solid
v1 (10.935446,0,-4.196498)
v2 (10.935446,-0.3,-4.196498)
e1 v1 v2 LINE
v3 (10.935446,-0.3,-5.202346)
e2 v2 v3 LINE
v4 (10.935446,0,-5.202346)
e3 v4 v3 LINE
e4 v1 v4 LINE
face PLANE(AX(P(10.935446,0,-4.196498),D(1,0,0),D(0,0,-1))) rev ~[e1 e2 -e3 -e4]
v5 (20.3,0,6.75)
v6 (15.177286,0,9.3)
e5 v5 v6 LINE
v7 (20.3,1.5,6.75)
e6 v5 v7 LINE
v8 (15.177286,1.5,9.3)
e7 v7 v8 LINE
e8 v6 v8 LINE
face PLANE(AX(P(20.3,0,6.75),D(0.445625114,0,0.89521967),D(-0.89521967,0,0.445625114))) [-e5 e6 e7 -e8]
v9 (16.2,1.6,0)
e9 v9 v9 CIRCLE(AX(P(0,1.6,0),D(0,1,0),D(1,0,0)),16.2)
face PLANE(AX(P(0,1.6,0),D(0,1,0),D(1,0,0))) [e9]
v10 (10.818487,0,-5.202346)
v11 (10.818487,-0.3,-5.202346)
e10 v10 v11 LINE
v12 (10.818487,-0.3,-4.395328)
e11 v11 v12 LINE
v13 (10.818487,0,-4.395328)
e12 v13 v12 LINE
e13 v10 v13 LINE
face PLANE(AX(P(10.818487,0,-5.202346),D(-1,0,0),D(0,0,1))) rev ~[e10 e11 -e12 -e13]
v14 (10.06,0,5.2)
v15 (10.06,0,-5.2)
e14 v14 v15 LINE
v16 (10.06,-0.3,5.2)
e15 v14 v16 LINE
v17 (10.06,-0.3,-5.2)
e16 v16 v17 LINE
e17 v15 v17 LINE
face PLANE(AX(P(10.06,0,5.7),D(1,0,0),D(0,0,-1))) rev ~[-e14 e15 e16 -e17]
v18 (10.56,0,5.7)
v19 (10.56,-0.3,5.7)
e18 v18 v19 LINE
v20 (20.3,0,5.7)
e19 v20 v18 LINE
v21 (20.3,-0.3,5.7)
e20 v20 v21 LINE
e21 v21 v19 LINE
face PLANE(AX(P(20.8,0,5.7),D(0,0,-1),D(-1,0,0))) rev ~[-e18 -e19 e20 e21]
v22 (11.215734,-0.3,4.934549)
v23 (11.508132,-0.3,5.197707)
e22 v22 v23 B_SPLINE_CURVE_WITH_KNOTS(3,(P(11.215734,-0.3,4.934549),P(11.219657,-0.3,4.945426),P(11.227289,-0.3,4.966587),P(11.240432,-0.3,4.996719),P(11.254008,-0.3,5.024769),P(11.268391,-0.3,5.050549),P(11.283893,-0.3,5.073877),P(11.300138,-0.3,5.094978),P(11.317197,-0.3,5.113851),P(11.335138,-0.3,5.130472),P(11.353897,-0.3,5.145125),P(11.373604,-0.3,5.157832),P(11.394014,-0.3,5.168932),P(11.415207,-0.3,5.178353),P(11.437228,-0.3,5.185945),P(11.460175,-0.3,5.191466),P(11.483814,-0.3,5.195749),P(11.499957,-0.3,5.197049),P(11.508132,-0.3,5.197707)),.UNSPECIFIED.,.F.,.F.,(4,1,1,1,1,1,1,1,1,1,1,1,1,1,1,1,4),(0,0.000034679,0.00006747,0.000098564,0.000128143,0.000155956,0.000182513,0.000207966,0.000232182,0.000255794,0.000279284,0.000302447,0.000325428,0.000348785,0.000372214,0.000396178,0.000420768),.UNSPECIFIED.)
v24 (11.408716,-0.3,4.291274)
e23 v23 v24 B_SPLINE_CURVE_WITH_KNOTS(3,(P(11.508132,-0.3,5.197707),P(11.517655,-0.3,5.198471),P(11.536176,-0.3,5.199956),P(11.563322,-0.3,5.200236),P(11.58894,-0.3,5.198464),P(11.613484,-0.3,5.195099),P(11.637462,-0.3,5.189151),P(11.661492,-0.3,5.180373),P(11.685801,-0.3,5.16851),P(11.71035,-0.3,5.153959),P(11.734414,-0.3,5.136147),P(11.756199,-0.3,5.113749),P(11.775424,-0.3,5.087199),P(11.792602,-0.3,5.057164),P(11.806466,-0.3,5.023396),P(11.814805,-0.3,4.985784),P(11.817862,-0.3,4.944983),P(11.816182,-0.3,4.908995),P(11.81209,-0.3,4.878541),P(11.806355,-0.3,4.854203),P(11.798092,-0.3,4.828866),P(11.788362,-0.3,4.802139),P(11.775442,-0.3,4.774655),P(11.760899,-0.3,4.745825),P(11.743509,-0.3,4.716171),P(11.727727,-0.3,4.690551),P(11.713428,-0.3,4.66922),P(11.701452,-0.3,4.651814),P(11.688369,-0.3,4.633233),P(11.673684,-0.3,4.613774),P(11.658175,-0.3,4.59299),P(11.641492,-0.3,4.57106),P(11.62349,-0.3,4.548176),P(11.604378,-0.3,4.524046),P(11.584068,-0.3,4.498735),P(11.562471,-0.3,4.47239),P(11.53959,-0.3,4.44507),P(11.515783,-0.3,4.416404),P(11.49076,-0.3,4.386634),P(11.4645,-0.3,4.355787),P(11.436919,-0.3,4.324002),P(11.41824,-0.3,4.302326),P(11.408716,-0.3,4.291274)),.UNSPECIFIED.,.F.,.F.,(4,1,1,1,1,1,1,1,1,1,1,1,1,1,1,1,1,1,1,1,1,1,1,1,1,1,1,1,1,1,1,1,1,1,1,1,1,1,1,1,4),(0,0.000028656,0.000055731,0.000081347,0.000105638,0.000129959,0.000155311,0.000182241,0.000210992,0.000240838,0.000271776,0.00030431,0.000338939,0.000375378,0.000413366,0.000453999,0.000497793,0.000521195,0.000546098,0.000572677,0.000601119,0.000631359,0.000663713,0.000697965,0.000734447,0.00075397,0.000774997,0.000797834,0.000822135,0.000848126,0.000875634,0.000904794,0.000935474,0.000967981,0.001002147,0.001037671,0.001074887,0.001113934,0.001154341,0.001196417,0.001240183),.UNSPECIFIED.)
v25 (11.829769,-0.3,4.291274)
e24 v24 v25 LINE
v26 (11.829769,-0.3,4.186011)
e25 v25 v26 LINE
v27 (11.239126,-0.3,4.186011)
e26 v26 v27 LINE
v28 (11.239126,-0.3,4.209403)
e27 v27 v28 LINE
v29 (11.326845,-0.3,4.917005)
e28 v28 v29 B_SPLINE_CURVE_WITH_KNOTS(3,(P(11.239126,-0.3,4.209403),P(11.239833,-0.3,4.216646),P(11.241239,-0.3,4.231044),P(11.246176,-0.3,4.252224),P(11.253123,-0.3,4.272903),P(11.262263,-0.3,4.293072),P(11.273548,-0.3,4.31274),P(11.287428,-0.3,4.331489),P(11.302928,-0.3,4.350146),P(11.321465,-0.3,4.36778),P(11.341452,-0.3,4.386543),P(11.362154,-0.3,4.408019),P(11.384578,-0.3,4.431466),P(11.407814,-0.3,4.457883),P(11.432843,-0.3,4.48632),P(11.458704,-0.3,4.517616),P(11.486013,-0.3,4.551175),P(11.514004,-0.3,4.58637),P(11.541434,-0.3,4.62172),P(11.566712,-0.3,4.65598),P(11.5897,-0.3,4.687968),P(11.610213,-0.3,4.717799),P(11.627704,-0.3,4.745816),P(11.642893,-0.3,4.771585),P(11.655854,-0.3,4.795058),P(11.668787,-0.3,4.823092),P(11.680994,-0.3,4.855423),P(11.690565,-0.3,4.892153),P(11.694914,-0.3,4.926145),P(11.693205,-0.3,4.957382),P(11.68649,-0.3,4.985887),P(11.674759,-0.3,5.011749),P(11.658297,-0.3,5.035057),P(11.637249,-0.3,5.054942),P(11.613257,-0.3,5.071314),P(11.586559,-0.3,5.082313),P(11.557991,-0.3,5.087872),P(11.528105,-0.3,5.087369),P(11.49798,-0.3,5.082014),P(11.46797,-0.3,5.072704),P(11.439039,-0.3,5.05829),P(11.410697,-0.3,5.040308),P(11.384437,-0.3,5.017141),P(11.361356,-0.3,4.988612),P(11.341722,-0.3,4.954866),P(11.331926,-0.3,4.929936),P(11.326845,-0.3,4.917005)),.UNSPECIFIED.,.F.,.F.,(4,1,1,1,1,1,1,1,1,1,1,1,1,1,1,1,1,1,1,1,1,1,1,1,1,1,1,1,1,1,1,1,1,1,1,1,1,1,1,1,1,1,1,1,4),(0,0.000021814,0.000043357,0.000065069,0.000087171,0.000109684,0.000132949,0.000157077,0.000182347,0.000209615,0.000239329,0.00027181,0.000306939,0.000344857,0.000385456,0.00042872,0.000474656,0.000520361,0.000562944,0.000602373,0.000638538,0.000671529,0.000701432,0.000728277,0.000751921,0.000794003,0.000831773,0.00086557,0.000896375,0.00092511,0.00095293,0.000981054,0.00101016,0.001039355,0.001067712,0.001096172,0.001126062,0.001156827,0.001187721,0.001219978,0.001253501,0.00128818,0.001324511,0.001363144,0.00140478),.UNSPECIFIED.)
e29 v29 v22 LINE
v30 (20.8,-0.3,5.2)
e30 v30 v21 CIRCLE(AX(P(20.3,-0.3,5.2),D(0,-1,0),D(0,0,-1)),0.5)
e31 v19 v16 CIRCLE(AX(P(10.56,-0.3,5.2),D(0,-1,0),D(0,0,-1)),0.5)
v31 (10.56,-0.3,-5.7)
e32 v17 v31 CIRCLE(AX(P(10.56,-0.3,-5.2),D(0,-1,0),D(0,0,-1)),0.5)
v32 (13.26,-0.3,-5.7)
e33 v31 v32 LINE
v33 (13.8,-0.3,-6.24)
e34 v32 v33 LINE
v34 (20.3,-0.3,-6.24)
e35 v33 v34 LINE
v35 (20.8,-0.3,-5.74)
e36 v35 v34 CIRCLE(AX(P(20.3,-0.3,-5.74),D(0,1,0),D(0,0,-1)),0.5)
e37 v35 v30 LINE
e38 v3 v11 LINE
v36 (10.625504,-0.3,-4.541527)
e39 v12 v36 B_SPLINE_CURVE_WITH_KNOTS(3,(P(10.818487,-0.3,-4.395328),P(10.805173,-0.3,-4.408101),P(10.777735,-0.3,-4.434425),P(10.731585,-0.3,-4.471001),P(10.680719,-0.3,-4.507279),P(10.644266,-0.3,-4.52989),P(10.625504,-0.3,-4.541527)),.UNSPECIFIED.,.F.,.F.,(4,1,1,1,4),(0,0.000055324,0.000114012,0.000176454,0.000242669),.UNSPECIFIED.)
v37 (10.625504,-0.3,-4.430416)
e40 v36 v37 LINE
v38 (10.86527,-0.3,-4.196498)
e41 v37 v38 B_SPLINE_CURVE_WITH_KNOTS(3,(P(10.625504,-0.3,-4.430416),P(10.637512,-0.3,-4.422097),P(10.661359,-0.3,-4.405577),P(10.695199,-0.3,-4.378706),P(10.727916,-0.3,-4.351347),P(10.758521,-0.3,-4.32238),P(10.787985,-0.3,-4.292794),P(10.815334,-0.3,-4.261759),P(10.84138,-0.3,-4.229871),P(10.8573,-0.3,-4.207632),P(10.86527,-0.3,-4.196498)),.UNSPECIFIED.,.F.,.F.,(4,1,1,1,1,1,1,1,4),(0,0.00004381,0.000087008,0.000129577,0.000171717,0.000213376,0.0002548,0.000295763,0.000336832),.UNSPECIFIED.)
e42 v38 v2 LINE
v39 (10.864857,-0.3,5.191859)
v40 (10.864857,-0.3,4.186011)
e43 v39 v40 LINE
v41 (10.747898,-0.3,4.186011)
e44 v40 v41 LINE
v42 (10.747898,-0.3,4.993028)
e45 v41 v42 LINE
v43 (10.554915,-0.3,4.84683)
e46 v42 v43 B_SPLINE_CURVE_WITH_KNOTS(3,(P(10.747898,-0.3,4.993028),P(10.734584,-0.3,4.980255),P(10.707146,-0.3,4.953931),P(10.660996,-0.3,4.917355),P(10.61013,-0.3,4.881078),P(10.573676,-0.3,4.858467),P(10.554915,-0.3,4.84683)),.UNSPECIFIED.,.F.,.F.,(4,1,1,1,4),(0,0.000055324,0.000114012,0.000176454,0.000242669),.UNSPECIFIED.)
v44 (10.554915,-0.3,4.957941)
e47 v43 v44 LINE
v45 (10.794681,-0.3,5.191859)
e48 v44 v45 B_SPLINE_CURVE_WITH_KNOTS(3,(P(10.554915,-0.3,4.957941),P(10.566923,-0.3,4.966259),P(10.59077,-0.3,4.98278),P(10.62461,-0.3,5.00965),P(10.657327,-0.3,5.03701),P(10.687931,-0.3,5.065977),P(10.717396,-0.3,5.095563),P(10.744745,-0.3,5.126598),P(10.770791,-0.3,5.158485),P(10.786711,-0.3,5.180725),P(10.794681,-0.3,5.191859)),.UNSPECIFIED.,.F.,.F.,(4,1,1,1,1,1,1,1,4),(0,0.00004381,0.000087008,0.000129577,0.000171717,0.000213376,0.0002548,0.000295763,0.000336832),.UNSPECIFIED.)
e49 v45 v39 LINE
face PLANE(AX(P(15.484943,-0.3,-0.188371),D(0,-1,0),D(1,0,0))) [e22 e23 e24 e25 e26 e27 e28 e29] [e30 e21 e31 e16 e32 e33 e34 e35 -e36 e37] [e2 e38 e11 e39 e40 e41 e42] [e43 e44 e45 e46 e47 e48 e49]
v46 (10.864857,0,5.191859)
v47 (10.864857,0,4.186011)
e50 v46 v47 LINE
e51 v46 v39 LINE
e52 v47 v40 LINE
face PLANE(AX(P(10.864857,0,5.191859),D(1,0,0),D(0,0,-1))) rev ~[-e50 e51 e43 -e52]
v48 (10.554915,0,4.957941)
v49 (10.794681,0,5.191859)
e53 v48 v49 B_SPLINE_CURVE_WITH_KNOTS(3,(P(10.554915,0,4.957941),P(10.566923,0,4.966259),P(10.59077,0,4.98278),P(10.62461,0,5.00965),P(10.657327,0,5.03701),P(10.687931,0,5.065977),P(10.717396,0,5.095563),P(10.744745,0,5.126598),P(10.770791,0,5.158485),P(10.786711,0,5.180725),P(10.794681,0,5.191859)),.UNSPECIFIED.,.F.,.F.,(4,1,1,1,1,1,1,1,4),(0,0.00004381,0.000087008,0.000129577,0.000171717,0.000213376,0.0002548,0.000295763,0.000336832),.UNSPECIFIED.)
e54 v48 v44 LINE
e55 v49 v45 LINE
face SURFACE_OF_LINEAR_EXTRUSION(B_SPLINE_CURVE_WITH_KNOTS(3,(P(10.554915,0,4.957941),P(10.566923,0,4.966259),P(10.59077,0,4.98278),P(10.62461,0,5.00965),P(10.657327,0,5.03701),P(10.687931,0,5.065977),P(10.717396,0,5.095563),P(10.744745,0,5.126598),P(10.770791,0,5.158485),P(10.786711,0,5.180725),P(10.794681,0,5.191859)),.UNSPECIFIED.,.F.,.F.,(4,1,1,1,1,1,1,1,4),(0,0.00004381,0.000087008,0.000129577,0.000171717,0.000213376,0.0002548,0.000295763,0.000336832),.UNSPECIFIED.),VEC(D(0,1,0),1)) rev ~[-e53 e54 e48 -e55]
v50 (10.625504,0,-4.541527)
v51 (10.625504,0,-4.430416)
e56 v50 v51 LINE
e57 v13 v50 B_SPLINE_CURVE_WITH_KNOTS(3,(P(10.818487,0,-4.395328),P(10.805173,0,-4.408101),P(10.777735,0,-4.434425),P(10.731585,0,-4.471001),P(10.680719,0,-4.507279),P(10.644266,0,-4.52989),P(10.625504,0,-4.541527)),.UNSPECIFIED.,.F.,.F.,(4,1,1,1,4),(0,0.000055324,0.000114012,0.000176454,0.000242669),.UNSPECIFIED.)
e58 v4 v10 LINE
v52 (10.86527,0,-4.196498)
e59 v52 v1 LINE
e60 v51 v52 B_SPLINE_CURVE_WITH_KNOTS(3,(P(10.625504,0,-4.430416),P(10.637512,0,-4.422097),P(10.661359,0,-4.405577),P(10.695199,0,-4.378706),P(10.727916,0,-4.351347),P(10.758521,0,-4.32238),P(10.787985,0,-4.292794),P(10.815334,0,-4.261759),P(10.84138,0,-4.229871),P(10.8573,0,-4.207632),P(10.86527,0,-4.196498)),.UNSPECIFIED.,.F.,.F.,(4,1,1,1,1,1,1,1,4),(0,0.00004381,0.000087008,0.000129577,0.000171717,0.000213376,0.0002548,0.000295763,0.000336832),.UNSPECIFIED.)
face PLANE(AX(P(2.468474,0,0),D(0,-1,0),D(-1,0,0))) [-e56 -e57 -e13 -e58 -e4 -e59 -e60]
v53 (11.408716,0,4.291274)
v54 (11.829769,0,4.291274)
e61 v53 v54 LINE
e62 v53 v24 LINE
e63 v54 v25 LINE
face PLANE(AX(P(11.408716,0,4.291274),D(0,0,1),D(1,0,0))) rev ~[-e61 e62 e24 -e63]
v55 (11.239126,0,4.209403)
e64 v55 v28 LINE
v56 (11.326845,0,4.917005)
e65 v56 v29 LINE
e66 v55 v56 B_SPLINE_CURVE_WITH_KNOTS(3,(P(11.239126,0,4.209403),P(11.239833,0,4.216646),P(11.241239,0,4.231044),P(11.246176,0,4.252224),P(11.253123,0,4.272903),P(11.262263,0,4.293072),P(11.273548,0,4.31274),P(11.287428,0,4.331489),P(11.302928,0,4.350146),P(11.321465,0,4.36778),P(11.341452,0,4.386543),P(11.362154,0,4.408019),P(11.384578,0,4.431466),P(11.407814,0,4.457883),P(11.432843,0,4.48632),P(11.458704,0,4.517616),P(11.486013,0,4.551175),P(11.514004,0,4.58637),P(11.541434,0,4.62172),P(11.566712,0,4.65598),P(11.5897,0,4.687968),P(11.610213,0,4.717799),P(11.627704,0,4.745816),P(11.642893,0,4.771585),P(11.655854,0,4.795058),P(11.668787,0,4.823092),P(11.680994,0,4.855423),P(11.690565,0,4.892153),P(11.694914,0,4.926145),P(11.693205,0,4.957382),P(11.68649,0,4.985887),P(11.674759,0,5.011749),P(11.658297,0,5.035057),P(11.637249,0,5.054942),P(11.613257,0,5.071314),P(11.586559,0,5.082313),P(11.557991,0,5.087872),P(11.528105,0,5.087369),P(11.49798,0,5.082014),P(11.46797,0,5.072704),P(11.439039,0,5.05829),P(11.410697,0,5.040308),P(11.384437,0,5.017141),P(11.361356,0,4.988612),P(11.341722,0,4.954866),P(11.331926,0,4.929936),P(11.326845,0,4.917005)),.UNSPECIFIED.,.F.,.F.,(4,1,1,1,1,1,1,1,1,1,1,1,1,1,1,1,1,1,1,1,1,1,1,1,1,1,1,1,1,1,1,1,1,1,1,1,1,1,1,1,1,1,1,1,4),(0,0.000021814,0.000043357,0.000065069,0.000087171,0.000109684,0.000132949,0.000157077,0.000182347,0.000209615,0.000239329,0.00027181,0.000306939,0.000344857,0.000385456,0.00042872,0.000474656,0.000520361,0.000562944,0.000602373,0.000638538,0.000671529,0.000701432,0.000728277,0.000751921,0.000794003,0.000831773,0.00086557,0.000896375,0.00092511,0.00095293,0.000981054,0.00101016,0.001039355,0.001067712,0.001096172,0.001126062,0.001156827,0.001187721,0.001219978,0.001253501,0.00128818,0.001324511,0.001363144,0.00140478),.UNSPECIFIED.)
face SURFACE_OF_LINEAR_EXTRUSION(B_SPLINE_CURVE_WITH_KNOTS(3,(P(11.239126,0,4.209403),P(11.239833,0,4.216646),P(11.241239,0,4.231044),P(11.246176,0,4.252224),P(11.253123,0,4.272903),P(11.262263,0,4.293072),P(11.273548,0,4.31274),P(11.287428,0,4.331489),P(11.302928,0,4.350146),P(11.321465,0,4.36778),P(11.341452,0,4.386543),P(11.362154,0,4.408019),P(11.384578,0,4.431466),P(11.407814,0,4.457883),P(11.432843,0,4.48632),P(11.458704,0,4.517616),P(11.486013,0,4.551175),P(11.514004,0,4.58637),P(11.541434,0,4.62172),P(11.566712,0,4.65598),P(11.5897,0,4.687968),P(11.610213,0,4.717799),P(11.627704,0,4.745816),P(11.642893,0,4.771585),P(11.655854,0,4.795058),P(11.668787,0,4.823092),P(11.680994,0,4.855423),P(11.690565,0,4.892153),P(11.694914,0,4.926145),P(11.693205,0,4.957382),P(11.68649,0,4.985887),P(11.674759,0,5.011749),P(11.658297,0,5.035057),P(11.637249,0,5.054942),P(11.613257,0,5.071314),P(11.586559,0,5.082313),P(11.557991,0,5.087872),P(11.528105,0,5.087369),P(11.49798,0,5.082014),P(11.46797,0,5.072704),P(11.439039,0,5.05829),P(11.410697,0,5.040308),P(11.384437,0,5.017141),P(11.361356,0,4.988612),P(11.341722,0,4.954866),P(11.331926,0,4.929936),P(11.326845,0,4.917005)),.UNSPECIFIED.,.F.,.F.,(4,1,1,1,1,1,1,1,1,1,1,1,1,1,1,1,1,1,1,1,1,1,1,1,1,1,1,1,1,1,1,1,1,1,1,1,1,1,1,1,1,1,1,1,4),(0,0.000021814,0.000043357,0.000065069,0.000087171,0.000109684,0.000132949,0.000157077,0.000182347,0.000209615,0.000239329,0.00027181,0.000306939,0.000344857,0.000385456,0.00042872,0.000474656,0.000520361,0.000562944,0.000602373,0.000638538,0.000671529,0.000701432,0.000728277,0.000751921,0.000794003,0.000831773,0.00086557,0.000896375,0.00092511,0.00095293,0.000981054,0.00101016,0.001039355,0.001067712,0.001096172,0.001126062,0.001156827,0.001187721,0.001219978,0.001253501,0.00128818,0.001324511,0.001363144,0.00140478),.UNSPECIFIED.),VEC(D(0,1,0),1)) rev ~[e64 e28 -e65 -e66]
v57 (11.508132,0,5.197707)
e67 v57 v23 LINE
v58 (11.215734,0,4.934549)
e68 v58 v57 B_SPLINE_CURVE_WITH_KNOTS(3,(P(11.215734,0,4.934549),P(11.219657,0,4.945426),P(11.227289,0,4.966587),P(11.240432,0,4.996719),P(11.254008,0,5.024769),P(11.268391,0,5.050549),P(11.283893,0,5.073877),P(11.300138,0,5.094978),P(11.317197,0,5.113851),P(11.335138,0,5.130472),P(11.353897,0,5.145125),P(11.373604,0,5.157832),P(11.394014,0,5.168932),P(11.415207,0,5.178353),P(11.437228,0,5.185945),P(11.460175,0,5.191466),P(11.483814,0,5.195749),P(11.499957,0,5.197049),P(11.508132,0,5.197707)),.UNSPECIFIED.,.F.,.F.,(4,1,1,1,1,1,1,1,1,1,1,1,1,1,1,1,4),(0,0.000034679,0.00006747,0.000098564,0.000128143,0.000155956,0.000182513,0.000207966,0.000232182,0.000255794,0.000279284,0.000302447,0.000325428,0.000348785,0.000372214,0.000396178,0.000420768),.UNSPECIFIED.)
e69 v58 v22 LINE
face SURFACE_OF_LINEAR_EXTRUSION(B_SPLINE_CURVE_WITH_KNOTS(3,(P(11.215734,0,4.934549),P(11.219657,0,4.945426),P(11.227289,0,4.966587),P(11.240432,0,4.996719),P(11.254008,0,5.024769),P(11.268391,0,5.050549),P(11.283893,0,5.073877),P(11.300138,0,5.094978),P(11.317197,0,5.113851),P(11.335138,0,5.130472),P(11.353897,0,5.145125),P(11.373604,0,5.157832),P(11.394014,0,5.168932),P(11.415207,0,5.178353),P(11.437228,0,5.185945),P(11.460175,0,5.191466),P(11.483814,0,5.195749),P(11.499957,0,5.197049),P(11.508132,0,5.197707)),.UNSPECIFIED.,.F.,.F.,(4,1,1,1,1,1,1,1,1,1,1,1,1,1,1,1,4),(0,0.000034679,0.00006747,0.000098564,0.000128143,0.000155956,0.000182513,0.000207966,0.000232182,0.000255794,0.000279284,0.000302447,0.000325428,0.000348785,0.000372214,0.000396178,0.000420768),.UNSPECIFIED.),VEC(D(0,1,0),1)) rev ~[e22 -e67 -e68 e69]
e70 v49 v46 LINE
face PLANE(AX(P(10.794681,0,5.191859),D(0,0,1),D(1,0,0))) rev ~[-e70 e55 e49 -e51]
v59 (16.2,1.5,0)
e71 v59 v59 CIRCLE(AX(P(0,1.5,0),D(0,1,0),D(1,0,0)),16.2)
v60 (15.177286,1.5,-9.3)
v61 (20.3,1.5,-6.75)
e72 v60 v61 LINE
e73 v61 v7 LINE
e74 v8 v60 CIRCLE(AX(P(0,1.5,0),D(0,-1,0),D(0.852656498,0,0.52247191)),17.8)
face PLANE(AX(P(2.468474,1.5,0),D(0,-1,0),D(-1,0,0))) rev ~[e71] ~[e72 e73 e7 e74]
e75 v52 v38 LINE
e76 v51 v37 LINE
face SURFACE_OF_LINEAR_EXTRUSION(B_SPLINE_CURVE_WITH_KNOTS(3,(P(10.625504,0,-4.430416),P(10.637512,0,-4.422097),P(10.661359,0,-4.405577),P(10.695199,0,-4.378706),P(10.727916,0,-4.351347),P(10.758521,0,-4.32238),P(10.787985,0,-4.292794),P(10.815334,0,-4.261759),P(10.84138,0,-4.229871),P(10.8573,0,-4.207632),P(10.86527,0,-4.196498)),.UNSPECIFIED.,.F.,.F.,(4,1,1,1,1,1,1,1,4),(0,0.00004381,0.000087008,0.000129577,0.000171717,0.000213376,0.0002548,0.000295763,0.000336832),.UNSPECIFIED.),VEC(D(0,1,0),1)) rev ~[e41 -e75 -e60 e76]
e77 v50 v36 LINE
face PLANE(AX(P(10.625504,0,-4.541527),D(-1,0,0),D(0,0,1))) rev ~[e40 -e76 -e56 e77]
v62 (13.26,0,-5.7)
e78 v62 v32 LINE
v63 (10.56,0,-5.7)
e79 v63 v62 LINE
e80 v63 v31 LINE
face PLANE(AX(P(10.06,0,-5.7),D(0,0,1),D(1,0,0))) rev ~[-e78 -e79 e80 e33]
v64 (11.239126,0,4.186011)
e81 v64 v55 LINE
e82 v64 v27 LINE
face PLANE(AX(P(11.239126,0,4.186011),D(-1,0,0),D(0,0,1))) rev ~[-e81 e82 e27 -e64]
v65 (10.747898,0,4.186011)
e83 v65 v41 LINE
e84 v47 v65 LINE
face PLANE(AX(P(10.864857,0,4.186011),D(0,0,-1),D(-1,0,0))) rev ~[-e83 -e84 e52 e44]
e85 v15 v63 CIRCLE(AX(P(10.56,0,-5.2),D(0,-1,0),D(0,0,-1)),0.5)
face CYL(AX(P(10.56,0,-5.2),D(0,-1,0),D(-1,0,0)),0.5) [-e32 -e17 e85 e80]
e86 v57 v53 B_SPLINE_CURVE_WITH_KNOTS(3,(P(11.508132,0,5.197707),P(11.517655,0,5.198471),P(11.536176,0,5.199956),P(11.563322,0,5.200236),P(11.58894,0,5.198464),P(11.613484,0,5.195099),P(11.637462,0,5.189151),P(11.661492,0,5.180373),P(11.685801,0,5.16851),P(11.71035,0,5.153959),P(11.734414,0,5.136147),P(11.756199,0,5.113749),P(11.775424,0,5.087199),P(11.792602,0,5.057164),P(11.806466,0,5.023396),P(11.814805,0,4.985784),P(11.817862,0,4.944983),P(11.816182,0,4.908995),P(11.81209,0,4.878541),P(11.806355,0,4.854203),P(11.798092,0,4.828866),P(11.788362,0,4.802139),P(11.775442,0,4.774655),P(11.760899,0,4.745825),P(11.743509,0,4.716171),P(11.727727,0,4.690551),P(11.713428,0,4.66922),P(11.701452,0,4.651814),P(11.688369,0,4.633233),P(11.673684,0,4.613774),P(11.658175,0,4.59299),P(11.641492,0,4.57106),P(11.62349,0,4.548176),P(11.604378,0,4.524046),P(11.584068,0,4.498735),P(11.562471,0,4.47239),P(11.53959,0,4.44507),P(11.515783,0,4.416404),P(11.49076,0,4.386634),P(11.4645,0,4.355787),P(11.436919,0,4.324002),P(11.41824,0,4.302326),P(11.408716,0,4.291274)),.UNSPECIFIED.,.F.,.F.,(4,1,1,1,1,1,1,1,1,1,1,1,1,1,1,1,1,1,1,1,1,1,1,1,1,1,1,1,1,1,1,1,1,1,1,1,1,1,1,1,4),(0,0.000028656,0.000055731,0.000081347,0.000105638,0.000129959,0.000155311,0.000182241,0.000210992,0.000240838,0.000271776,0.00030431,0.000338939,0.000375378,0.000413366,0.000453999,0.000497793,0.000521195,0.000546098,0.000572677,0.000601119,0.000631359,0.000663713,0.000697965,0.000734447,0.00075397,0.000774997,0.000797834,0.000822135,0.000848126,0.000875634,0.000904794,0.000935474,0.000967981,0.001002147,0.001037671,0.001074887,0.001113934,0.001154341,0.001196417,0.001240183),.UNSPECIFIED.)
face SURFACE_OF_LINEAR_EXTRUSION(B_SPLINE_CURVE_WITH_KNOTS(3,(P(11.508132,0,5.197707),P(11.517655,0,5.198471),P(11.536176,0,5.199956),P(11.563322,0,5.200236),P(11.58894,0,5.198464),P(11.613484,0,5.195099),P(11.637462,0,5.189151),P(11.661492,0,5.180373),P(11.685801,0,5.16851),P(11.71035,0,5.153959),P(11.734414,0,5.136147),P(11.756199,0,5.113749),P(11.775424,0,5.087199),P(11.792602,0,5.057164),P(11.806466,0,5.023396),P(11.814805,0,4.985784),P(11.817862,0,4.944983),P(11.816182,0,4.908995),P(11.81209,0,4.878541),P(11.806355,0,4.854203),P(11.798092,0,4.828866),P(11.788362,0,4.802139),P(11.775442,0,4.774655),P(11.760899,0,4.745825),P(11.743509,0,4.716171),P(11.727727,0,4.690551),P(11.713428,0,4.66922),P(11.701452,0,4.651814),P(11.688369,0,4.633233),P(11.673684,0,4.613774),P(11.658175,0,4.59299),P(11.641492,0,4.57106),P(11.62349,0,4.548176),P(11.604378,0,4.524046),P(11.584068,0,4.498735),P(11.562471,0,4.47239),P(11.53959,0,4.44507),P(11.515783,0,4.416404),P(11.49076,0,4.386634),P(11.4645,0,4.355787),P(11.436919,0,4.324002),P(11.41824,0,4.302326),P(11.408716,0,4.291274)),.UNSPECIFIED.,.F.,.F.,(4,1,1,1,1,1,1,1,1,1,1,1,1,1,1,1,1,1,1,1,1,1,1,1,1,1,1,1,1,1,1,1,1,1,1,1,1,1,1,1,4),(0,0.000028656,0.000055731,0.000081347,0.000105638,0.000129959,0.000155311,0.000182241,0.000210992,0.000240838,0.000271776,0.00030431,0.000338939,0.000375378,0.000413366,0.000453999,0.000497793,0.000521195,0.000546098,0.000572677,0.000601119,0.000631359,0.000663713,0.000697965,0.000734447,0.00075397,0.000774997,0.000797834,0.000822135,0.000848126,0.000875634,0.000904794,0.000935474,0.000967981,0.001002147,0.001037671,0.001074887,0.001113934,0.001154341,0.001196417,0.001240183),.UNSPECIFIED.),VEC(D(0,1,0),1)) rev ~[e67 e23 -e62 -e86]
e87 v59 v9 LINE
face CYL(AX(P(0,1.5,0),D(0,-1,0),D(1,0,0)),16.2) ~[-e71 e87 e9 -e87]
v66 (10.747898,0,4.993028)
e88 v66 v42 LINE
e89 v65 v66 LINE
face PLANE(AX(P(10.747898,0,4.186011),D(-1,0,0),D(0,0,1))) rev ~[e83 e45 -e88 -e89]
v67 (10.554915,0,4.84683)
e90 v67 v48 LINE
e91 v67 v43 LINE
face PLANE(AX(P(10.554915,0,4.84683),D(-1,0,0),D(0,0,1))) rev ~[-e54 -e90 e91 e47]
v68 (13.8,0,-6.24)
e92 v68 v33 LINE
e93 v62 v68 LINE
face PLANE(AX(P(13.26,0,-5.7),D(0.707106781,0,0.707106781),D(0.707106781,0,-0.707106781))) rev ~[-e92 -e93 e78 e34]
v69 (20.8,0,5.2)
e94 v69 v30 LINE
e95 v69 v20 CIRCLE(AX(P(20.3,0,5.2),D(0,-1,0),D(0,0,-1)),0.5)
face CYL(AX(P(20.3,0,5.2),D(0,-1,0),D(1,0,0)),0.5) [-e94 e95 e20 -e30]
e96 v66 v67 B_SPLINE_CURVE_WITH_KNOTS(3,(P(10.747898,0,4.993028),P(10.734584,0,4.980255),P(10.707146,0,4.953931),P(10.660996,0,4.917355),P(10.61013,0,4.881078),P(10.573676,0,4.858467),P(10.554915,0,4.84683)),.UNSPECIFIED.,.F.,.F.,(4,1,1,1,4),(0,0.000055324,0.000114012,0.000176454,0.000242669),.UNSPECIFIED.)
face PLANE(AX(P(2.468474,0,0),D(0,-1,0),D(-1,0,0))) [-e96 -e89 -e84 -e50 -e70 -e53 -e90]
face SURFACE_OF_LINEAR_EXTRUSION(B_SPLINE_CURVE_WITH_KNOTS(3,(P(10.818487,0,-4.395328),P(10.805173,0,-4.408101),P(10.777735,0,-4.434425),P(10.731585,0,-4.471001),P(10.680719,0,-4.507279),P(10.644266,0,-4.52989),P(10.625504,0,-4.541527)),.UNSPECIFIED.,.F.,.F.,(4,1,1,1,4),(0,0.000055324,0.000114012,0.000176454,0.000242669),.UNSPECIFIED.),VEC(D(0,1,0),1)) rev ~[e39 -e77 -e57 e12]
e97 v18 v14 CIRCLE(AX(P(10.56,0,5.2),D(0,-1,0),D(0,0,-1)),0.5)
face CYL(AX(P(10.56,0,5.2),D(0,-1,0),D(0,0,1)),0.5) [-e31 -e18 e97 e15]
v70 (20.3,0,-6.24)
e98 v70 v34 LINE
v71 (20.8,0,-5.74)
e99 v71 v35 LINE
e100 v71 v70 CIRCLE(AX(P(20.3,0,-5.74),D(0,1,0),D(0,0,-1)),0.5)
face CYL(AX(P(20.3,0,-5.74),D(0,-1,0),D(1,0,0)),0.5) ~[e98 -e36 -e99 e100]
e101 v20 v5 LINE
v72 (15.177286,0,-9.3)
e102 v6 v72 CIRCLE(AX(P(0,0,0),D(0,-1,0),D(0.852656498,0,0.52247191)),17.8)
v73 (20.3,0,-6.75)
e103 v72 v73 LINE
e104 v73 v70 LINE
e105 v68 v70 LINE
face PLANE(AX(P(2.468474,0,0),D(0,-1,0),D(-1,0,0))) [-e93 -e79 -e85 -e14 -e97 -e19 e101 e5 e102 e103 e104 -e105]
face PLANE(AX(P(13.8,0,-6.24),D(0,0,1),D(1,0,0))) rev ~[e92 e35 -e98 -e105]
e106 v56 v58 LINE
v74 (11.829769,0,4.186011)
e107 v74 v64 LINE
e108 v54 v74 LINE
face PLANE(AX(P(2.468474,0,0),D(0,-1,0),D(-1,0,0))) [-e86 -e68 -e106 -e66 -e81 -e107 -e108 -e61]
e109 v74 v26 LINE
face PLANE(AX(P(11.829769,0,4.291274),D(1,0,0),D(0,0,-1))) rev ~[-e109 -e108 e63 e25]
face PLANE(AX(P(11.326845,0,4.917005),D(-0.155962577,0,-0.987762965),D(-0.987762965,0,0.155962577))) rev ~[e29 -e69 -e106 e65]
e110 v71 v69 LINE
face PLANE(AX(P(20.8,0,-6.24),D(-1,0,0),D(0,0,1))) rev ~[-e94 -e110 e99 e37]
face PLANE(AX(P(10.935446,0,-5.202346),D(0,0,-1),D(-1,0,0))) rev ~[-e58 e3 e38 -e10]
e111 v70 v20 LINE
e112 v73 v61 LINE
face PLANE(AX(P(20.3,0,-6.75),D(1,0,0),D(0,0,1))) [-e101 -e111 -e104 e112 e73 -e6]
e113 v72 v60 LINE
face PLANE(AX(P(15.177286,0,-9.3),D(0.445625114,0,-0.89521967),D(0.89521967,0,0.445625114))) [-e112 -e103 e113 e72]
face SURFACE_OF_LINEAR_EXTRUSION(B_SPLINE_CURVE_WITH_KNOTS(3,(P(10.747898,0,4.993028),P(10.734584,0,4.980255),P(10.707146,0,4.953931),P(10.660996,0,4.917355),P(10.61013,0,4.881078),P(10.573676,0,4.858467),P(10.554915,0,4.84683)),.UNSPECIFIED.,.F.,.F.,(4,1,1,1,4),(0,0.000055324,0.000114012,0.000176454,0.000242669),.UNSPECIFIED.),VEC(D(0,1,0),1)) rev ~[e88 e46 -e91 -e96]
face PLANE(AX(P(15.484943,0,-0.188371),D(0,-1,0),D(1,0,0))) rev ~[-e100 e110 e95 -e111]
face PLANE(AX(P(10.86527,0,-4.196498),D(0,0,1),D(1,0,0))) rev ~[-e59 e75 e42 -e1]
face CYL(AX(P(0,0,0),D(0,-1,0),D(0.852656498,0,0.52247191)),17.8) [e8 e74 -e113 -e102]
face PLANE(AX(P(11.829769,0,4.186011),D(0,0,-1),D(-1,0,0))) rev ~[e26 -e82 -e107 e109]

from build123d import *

# Parameters (mm, degrees)
EXTRUDE_1_DEPTH = 1.5
SKETCH_3_R      = 16.2
EXTRUDE_2_DEPTH = 0.1
EXTRUDE_3_DEPTH = 0.3
FILLET_1_R      = 0.5


with BuildPart() as part:
    # 草图1 → 凸台-拉伸1 (new body)
    with BuildSketch(Plane(origin=(0, 0, 0), x_dir=(1, 0, 0), z_dir=(0, 1, 0))):
        with BuildLine():
            Line((20.3, 6.75), (20.3, -6.75))
            Line((20.3, -6.75), (15.17728566, -9.3))
            ThreePointArc((15.17728566, -9.3), (-17.8, 0), (15.17728566, 9.3))
            Line((15.17728566, 9.3), (20.3, 6.75))
        make_face()
    extrude(amount=EXTRUDE_1_DEPTH)

    # 草图3 → 凸台-拉伸2 (add)
    with BuildSketch(Plane(origin=(0, 1.5, 0), x_dir=(1, 0, 0), z_dir=(0, 1, 0))):
        Circle(SKETCH_3_R)
    extrude(amount=EXTRUDE_2_DEPTH)

    # 草图4 → 凸台-拉伸3 (add)
    with BuildSketch(Plane.XZ):
        Polygon((20.8, -6.24), (20.8, 5.7), (10.06, 5.7), (10.06, -5.7), (13.26, -5.7), (13.8, -6.24), align=None)
        with BuildLine():
            add(Edge.make_bspline(
                [(10.818486802, -4.395328042), (10.805172896, -4.40810149), (10.777735498, -4.434425106), (10.731585338, -4.471001471), (10.680718947, -4.50727864), (10.644265505, -4.529889796), (10.625504346, -4.541526873)],
                knots=[0, 0, 0, 0, 5.5324e-05, 0.000114012, 0.000176454, 0.000242669, 0.000242669, 0.000242669, 0.000242669], degree=3))
            Line((10.625504346, -4.541526873), (10.625504346, -4.430415762))
            add(Edge.make_bspline(
                [(10.625504346, -4.430415762), (10.637511845, -4.422097374), (10.661358973, -4.405576894), (10.695199347, -4.378706463), (10.727916327, -4.35134661), (10.758520561, -4.322379824), (10.787985268, -4.292793589), (10.815334495, -4.261758783), (10.841379972, -4.22987118), (10.857300173, -4.207631606), (10.865270428, -4.196497633)],
                knots=[0, 0, 0, 0, 4.381e-05, 8.7008e-05, 0.000129577, 0.000171717, 0.000213376, 0.0002548, 0.000295763, 0.000336832, 0.000336832, 0.000336832, 0.000336832], degree=3))
            Line((10.865270428, -4.196497633), (10.935445867, -4.196497633))
            Line((10.935445867, -4.196497633), (10.935445867, -5.202345586))
            Line((10.935445867, -5.202345586), (10.818486802, -5.202345586))
            Line((10.818486802, -5.202345586), (10.818486802, -4.395328042))
        make_face(mode=Mode.SUBTRACT)
        with BuildLine():
            add(Edge.make_bspline(
                [(10.747897656, 4.993028455), (10.734583749, 4.980255007), (10.707146352, 4.953931392), (10.660996192, 4.917355027), (10.610129801, 4.881077858), (10.573676359, 4.858466702), (10.5549152, 4.846829625)],
                knots=[0, 0, 0, 0, 5.5324e-05, 0.000114012, 0.000176454, 0.000242669, 0.000242669, 0.000242669, 0.000242669], degree=3))
            Line((10.5549152, 4.846829625), (10.5549152, 4.957940736))
            add(Edge.make_bspline(
                [(10.5549152, 4.957940736), (10.566922699, 4.966259124), (10.590769826, 4.982779604), (10.6246102, 5.009650034), (10.65732718, 5.037009887), (10.687931415, 5.065976673), (10.717396122, 5.095562908), (10.744745348, 5.126597715), (10.770790825, 5.158485318), (10.786711026, 5.180724892), (10.794681281, 5.191858864)],
                knots=[0, 0, 0, 0, 4.381e-05, 8.7008e-05, 0.000129577, 0.000171717, 0.000213376, 0.0002548, 0.000295763, 0.000336832, 0.000336832, 0.000336832, 0.000336832], degree=3))
            Line((10.794681281, 5.191858864), (10.86485672, 5.191858864))
            Line((10.86485672, 5.191858864), (10.86485672, 4.186010911))
            Line((10.86485672, 4.186010911), (10.747897656, 4.186010911))
            Line((10.747897656, 4.186010911), (10.747897656, 4.993028455))
        make_face(mode=Mode.SUBTRACT)
        with BuildLine():
            add(Edge.make_bspline(
                [(11.239125726, 4.209402724), (11.239833141, 4.216646412), (11.241239164, 4.23104361), (11.246176296, 4.252223765), (11.253123203, 4.272903106), (11.262262649, 4.29307236), (11.273547522, 4.312739702), (11.287428195, 4.331488732), (11.302928415, 4.350145808), (11.321465332, 4.367779976), (11.341452247, 4.386542756), (11.362154394, 4.408019092), (11.384577692, 4.431466047), (11.407813575, 4.457882847), (11.432843118, 4.486319526), (11.458703548, 4.517616287), (11.486012518, 4.551174546), (11.514003658, 4.586370362), (11.541434011, 4.621720239), (11.56671184, 4.65597954), (11.589699984, 4.687968259), (11.610212924, 4.717799327), (11.627704069, 4.745816407), (11.642893445, 4.771584725), (11.655854012, 4.795057685), (11.668787399, 4.823092213), (11.680993939, 4.855423395), (11.690565178, 4.892152564), (11.694914493, 4.926144912), (11.693204675, 4.957381602), (11.686490374, 4.98588729), (11.674759334, 5.011748614), (11.658296591, 5.035057433), (11.637248958, 5.054942362), (11.613257207, 5.071313574), (11.586558607, 5.082313299), (11.557991357, 5.087872292), (11.528104736, 5.087369351), (11.497980127, 5.082013566), (11.467969579, 5.072704256), (11.439039112, 5.058289936), (11.410696566, 5.040307531), (11.384436934, 5.017140759), (11.36135616, 4.988611831), (11.341721738, 4.954866078), (11.331926076, 4.929936265), (11.326845024, 4.917005063)],
                knots=[0, 0, 0, 0, 2.1814e-05, 4.3357e-05, 6.5069e-05, 8.7171e-05, 0.000109684, 0.000132949, 0.000157077, 0.000182347, 0.000209615, 0.000239329, 0.00027181, 0.000306939, 0.000344857, 0.000385456, 0.00042872, 0.000474656, 0.000520361, 0.000562944, 0.000602373, 0.000638538, 0.000671529, 0.000701432, 0.000728277, 0.000751921, 0.000794003, 0.000831773, 0.00086557, 0.000896375, 0.00092511, 0.00095293, 0.000981054, 0.00101016, 0.001039355, 0.001067712, 0.001096172, 0.001126062, 0.001156827, 0.001187721, 0.001219978, 0.001253501, 0.00128818, 0.001324511, 0.001363144, 0.00140478, 0.00140478, 0.00140478, 0.00140478], degree=3))
            Line((11.326845024, 4.917005063), (11.215733913, 4.934548923))
            add(Edge.make_bspline(
                [(11.215733913, 4.934548923), (11.219656813, 4.945425545), (11.227289073, 4.966586728), (11.240431556, 4.996719226), (11.254008051, 5.024768665), (11.268391205, 5.050549193), (11.283893055, 5.073876788), (11.300137608, 5.094978241), (11.317197246, 5.113850725), (11.335137556, 5.130472165), (11.35389693, 5.145124772), (11.373604192, 5.157831984), (11.394013956, 5.168932074), (11.415206508, 5.178352557), (11.43722761, 5.185944542), (11.460175176, 5.191465532), (11.483814494, 5.195748716), (11.499956502, 5.19704853), (11.508131574, 5.197706818)],
                knots=[0, 0, 0, 0, 3.4679e-05, 6.747e-05, 9.8564e-05, 0.000128143, 0.000155956, 0.000182513, 0.000207966, 0.000232182, 0.000255794, 0.000279284, 0.000302447, 0.000325428, 0.000348785, 0.000372214, 0.000396178, 0.000420768, 0.000420768, 0.000420768, 0.000420768], degree=3))
            add(Edge.make_bspline(
                [(11.508131574, 5.197706818), (11.517654805, 5.198470616), (11.536175647, 5.199956055), (11.563321528, 5.200235741), (11.588939793, 5.198463956), (11.613483722, 5.195099015), (11.637461864, 5.189150579), (11.661491911, 5.180373219), (11.685801114, 5.168509643), (11.710349938, 5.153958828), (11.73441354, 5.136146543), (11.756199385, 5.11374856), (11.775424492, 5.087198528), (11.792601639, 5.05716399), (11.806466377, 5.023396102), (11.814804628, 4.985783772), (11.817862258, 4.944983333), (11.816182176, 4.908994618), (11.812089602, 4.878541375), (11.806355457, 4.854202585), (11.798091587, 4.828865854), (11.788361792, 4.802138754), (11.775441683, 4.774655097), (11.760899169, 4.745824926), (11.74350862, 4.716170927), (11.727726825, 4.690551343), (11.713428345, 4.669220128), (11.70145212, 4.651813704), (11.688368763, 4.633233154), (11.673683781, 4.613773904), (11.658174582, 4.592989779), (11.641491734, 4.571060318), (11.623490026, 4.548175641), (11.604377689, 4.524045702), (11.584068424, 4.498734851), (11.562470569, 4.472389765), (11.539590091, 4.445069691), (11.51578304, 4.416404416), (11.490759524, 4.386634205), (11.46450038, 4.355787108), (11.436918885, 4.324002126), (11.418239887, 4.302325786), (11.408716369, 4.291274069)],
                knots=[0, 0, 0, 0, 2.8656e-05, 5.5731e-05, 8.1347e-05, 0.000105638, 0.000129959, 0.000155311, 0.000182241, 0.000210992, 0.000240838, 0.000271776, 0.00030431, 0.000338939, 0.000375378, 0.000413366, 0.000453999, 0.000497793, 0.000521195, 0.000546098, 0.000572677, 0.000601119, 0.000631359, 0.000663713, 0.000697965, 0.000734447, 0.00075397, 0.000774997, 0.000797834, 0.000822135, 0.000848126, 0.000875634, 0.000904794, 0.000935474, 0.000967981, 0.001002147, 0.001037671, 0.001074887, 0.001113934, 0.001154341, 0.001196417, 0.001240183, 0.001240183, 0.001240183, 0.001240183], degree=3))
            Line((11.408716369, 4.291274069), (11.829769001, 4.291274069))
            Line((11.829769001, 4.291274069), (11.829769001, 4.186010911))
            Line((11.829769001, 4.186010911), (11.239125726, 4.186010911))
            Line((11.239125726, 4.186010911), (11.239125726, 4.209402724))
        make_face(mode=Mode.SUBTRACT)
    extrude(amount=EXTRUDE_3_DEPTH)

    # 圆角1
    fillet_1_edges = [part.edges().sort_by_distance(p)[0] for p in [
        (10.06, -0.15, -5.7),
        (10.06, -0.15, 5.7),
        (20.8, -0.15, 5.7),
        (20.8, -0.15, -6.24),
    ]]
    fillet(fillet_1_edges, radius=FILLET_1_R)


solid = part.part
